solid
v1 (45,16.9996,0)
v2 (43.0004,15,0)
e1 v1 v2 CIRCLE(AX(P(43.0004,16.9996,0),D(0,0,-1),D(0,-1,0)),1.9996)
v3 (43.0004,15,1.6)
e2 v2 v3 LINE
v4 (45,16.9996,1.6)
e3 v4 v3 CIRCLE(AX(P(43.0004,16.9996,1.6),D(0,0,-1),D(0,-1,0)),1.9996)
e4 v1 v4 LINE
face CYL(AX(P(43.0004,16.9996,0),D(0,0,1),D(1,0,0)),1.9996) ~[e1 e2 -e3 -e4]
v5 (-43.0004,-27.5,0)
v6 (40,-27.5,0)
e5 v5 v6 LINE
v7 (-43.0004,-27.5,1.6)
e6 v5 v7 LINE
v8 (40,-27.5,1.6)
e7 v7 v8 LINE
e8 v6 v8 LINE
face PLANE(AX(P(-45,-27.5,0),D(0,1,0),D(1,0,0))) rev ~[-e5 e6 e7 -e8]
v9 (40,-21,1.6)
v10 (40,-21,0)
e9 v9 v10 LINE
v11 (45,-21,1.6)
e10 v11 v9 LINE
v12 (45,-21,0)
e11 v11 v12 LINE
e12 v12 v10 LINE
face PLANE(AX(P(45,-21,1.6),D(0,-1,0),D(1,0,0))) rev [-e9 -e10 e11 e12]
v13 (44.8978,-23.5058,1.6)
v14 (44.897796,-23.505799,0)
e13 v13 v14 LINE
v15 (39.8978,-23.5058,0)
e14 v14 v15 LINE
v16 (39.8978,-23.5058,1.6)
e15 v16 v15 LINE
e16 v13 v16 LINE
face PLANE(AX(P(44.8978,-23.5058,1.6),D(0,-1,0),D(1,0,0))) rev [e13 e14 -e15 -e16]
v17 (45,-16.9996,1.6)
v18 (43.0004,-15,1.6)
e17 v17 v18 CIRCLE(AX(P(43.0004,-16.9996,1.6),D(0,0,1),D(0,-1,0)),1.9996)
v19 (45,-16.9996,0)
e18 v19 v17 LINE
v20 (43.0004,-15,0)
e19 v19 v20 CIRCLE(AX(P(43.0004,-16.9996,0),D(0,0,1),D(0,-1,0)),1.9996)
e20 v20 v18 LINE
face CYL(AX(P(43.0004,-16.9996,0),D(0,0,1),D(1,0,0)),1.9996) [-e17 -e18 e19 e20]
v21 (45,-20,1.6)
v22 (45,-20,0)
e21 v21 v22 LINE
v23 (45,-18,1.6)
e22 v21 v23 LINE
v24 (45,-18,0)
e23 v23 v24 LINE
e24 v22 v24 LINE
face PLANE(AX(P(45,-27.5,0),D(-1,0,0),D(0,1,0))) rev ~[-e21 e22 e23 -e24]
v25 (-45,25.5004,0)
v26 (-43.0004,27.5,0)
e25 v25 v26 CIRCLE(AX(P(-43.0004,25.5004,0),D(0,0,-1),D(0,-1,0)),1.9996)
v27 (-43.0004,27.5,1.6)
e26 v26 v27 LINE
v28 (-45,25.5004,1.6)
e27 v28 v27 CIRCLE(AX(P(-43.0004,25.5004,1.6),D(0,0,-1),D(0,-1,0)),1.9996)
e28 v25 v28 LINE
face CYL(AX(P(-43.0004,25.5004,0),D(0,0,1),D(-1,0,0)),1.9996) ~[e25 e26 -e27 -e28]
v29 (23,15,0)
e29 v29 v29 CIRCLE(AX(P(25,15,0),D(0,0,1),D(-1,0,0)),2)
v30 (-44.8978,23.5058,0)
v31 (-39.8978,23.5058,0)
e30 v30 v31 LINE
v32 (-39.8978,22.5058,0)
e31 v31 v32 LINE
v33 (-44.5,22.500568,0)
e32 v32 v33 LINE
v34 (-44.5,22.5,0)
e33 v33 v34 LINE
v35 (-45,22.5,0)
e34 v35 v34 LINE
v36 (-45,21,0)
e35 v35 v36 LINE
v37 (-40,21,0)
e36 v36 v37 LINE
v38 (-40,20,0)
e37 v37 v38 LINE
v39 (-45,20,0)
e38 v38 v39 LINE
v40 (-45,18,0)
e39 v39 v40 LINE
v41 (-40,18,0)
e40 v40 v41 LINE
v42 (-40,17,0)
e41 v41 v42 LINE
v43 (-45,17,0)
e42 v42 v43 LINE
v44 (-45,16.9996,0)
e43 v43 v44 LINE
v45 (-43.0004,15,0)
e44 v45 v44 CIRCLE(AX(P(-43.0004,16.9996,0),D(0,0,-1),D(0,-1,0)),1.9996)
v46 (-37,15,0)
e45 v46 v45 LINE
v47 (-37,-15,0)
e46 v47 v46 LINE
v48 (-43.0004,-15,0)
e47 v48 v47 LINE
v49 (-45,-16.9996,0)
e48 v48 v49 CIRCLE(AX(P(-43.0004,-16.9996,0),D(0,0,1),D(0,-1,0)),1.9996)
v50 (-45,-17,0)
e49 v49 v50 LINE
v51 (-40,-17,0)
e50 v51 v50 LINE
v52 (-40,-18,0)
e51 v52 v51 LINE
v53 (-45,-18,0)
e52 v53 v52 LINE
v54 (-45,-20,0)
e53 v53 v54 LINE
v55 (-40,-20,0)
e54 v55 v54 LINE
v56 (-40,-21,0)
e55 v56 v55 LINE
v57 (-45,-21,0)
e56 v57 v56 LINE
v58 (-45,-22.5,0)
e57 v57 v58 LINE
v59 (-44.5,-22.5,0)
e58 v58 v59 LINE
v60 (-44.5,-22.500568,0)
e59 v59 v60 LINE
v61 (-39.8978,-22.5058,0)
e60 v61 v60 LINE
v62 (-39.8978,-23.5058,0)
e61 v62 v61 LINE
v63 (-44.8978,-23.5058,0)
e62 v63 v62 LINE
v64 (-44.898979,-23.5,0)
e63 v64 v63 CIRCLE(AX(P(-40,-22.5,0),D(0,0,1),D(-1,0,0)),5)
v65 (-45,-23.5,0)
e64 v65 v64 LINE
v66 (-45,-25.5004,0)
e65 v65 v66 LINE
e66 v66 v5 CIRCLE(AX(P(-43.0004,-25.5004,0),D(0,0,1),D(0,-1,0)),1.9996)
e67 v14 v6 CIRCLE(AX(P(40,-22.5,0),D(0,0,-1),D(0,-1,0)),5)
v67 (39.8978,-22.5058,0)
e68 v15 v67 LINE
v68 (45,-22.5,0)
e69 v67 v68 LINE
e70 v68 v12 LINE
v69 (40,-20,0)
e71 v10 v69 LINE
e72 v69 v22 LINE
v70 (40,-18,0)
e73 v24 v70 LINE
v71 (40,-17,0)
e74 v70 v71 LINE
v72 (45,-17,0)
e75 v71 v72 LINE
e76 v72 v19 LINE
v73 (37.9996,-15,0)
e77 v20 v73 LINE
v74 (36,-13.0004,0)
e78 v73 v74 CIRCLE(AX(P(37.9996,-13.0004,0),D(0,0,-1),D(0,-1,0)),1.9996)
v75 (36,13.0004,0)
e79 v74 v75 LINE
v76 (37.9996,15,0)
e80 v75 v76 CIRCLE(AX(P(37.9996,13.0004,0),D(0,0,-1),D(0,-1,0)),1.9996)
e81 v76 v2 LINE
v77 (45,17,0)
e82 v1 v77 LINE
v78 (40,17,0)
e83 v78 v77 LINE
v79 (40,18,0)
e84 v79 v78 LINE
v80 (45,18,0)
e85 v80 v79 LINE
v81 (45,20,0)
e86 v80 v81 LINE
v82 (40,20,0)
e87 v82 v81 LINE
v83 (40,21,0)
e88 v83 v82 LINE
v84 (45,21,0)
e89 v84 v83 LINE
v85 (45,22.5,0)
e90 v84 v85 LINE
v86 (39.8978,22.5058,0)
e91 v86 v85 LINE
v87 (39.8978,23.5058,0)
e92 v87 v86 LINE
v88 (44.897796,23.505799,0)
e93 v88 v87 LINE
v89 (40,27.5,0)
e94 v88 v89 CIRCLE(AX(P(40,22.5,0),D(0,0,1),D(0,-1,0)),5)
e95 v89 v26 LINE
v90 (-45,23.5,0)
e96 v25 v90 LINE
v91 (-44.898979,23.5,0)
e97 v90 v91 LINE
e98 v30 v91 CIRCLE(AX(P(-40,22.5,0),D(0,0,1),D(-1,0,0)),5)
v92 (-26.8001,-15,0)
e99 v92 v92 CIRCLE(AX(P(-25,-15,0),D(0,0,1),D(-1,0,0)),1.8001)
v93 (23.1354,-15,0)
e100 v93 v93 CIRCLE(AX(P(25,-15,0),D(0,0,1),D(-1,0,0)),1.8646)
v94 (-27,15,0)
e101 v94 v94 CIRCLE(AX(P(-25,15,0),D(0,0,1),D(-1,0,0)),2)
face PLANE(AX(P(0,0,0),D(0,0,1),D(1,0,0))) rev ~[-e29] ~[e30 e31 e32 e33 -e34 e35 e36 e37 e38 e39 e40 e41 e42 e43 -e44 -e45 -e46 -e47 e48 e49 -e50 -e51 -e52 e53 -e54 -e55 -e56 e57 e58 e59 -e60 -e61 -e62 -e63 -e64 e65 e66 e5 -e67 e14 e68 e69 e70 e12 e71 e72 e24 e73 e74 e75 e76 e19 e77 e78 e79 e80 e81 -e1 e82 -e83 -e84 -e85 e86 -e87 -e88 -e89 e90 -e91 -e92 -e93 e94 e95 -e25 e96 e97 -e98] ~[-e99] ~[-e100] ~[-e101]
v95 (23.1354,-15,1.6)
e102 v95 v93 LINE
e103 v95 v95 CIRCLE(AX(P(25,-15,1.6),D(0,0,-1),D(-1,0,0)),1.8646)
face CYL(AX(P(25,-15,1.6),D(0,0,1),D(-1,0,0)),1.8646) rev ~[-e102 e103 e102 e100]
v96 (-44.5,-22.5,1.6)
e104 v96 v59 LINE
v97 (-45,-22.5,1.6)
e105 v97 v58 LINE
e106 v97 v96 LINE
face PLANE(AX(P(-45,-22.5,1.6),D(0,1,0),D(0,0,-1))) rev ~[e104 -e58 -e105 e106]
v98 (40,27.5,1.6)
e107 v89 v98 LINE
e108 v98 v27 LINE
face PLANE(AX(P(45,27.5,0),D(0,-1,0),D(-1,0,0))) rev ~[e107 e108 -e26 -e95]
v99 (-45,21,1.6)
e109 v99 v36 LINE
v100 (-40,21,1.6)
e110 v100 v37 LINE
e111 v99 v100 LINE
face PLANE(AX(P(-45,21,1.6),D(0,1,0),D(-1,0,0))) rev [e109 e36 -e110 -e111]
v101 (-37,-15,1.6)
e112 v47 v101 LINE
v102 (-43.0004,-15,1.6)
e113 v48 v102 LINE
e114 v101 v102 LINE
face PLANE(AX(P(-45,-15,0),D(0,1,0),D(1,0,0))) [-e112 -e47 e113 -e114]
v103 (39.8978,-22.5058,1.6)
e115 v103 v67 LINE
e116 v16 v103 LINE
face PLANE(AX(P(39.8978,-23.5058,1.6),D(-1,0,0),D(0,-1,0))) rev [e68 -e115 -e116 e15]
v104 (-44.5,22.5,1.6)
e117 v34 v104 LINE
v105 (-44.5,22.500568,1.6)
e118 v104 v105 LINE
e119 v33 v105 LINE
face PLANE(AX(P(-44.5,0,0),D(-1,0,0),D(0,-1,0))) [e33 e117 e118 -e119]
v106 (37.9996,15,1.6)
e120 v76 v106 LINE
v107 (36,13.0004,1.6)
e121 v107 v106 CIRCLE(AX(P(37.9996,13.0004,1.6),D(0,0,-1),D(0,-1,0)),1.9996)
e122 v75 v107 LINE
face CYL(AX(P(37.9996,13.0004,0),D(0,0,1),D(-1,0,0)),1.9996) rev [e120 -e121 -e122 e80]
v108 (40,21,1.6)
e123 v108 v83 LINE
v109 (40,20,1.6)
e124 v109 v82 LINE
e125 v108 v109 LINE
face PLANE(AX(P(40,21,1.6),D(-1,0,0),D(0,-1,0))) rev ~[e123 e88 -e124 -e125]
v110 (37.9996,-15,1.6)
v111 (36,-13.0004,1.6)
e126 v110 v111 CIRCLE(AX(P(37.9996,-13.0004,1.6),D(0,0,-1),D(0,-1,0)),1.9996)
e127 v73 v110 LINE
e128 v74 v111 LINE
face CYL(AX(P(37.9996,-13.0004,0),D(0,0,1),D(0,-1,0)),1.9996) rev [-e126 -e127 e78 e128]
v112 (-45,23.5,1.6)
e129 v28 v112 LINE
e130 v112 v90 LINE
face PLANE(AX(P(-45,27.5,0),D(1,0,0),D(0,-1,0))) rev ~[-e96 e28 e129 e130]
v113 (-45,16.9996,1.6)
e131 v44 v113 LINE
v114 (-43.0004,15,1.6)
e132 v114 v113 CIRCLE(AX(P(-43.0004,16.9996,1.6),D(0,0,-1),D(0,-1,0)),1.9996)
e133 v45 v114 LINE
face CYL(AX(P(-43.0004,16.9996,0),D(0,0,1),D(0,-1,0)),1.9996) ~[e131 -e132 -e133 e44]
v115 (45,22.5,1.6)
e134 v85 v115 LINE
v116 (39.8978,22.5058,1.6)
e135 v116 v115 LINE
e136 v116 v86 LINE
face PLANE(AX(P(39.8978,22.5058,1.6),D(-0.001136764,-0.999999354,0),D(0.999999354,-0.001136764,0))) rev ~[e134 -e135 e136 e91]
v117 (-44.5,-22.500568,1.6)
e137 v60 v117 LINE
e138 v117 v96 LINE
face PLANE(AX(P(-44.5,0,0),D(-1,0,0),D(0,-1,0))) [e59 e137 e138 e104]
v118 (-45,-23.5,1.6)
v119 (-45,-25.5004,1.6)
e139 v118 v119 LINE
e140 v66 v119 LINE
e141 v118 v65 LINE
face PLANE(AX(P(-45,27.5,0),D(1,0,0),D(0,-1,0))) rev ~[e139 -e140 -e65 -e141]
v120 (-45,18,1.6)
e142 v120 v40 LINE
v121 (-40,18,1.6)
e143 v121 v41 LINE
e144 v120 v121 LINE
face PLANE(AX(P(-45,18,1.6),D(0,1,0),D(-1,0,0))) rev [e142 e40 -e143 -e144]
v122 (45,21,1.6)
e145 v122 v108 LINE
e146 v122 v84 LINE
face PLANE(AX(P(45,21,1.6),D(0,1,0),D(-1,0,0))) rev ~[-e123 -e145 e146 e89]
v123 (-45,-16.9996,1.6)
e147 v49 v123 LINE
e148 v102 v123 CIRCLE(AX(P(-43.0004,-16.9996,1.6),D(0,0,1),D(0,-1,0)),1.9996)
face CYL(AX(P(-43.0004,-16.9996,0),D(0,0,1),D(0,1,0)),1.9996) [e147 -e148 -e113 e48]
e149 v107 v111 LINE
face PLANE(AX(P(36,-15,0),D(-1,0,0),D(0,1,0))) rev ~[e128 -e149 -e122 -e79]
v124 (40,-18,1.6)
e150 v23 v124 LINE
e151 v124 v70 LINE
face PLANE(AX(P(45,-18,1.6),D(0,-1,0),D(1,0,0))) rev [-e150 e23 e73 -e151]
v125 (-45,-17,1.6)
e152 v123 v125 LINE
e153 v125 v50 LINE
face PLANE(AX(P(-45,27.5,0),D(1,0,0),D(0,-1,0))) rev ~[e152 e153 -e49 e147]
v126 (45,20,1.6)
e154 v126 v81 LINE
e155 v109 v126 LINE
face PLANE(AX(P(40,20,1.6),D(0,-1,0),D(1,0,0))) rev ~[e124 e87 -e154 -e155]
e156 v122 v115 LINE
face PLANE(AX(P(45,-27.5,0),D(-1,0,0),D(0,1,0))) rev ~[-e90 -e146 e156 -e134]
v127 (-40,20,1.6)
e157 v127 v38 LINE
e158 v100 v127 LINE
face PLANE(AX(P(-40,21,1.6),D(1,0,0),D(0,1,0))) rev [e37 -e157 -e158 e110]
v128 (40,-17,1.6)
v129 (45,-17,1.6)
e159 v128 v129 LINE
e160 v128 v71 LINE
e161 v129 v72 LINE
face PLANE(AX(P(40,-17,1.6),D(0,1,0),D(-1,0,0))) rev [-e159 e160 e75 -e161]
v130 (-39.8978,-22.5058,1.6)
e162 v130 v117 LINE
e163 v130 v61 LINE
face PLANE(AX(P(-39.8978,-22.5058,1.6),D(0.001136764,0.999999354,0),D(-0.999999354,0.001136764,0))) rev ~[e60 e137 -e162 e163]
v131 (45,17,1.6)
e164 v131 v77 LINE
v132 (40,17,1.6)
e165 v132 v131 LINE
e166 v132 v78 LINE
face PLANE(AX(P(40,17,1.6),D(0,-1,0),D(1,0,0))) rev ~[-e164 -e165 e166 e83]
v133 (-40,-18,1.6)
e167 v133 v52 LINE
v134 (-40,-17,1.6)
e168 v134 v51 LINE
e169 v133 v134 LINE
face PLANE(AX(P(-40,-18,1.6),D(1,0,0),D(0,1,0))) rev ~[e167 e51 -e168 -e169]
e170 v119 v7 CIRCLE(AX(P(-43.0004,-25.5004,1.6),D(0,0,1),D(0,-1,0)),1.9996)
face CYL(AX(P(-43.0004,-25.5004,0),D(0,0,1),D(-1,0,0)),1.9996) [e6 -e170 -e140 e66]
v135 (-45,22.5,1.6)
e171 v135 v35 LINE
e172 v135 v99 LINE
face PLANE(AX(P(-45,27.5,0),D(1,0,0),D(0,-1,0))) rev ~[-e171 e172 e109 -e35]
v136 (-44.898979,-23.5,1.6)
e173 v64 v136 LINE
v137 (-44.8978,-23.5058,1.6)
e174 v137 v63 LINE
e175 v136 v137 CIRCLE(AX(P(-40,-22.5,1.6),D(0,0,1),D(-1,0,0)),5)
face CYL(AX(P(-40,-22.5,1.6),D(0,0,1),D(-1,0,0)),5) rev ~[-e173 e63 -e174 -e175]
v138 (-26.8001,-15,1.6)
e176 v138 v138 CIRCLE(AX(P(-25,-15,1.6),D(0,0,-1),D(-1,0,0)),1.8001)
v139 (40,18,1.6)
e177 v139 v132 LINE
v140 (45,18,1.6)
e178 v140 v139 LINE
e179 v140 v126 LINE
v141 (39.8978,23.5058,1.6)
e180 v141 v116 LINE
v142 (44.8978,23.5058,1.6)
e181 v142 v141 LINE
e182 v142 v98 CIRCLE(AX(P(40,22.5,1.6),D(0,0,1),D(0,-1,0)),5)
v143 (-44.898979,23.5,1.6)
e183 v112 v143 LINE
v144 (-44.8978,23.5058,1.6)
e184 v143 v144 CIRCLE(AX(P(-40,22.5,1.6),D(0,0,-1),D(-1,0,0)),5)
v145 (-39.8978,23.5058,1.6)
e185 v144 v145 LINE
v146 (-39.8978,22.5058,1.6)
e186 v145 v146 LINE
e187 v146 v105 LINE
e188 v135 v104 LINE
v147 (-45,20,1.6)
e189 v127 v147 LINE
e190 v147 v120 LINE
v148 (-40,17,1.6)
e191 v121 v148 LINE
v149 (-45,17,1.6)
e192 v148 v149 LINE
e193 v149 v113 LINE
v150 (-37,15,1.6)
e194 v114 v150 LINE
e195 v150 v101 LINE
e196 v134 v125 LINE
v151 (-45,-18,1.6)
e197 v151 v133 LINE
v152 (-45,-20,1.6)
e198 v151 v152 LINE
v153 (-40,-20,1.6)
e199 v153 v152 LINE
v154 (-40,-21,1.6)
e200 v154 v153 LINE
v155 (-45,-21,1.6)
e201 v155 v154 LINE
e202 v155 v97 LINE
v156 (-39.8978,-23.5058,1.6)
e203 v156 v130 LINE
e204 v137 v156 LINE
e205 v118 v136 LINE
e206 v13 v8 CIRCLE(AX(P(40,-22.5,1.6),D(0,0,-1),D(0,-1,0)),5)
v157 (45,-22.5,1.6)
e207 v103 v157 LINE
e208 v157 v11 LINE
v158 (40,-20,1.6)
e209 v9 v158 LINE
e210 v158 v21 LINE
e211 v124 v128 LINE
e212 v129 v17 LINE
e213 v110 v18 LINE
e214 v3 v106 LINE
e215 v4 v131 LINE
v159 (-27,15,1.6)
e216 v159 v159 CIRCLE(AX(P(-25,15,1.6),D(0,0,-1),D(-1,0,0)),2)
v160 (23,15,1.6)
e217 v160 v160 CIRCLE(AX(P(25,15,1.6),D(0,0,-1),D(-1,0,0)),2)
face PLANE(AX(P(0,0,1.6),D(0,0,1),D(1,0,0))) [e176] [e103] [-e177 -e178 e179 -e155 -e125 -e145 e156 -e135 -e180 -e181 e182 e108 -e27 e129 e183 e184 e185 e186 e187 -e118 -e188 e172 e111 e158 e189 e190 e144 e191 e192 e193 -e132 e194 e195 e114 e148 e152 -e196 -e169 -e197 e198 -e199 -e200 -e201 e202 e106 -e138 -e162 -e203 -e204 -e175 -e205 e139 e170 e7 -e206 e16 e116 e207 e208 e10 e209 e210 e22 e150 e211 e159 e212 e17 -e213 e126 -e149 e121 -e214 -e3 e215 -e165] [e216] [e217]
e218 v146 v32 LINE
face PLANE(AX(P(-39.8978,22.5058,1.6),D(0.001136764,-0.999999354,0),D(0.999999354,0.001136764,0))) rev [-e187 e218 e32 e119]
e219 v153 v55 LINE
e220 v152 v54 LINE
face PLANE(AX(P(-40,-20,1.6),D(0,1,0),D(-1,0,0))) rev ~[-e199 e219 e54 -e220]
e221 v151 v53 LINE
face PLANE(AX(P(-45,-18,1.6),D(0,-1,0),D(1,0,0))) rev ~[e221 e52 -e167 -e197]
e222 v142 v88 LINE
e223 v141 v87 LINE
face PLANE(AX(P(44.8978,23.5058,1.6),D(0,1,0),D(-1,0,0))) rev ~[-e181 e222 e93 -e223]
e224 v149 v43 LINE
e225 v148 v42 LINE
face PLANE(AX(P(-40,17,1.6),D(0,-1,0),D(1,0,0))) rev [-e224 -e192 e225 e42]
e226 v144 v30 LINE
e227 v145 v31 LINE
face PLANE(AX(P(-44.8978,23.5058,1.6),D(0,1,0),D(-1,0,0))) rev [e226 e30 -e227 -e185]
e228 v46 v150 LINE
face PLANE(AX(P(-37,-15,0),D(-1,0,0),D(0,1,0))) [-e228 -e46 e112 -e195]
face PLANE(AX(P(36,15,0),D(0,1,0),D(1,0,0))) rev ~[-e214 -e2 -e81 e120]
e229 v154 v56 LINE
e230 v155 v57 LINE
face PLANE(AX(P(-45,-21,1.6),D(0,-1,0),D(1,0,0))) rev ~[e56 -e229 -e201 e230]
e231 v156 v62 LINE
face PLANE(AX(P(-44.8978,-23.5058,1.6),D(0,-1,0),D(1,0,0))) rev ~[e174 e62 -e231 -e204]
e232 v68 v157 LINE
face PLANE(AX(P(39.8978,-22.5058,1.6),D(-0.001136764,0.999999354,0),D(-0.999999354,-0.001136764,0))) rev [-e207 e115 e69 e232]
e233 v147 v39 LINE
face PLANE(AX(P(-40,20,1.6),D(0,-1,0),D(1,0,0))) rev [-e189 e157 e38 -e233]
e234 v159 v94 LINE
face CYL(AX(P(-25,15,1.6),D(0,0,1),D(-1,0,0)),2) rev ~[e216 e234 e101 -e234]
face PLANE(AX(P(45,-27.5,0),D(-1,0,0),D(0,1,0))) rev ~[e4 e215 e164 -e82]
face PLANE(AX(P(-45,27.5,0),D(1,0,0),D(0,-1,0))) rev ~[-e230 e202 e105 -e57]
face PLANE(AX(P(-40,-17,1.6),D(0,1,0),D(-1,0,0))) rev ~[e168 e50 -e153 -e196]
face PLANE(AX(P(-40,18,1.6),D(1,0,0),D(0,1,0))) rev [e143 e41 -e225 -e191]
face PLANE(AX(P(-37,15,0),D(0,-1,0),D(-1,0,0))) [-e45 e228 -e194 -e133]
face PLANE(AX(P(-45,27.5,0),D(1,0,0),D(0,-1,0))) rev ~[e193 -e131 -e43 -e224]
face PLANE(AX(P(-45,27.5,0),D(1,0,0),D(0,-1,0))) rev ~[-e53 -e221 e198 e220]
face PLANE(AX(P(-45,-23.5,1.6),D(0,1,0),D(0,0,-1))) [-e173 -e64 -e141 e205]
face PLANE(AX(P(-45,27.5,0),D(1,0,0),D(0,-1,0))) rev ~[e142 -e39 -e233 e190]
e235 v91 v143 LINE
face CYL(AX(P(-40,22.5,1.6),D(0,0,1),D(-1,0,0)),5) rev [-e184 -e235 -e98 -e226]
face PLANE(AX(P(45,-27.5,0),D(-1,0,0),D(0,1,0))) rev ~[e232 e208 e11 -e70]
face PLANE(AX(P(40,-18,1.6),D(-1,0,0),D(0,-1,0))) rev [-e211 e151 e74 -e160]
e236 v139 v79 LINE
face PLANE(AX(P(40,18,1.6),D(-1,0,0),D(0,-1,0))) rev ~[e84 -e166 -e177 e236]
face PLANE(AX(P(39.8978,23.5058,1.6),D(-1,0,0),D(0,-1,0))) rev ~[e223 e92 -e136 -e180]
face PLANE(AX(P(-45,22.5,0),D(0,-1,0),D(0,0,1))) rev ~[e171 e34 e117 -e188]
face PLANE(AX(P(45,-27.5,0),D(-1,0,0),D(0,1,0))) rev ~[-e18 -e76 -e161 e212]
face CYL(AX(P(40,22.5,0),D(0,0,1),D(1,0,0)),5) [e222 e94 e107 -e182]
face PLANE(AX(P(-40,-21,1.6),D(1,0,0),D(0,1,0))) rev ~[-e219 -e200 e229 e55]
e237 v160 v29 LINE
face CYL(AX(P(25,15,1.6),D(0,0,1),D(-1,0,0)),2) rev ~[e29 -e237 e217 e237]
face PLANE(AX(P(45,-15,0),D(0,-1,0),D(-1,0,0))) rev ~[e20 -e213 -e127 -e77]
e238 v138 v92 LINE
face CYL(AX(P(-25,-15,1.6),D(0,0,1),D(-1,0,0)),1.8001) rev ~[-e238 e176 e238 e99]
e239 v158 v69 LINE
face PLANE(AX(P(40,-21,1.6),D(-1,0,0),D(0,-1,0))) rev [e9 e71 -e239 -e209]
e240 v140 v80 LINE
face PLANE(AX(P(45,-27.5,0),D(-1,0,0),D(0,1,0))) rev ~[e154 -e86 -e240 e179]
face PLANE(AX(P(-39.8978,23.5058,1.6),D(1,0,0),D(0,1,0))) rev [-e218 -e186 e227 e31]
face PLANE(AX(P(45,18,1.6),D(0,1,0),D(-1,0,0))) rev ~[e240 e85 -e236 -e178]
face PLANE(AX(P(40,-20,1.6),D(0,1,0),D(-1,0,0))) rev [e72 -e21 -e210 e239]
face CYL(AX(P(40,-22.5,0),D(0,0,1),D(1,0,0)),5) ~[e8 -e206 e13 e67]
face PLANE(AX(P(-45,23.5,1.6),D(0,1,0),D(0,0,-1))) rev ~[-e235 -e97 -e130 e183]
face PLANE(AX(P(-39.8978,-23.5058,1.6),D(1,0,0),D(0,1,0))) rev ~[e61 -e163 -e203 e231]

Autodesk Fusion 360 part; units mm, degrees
sketch "Sketch1" plane through (0, 0, 0) normal (0, 0, 1) x (1, 0, 0)
  line L0 (45, 27.5) -> (-45, 27.5)
  line L1 (-45, 27.5) -> (-45, -27.5)
  line L2 (-45, -27.5) -> (45, -27.5)
  line L3 (45, -27.5) -> (45, 27.5)
  line L4 (45, 27.5) -> (-45, -27.5) construction
  line L5 (-45, 27.5) -> (45, -27.5) construction
  dimension "d1" = 90
  dimension "d2" = 55
extrude "Extrude1" add sketch "Sketch1" along normal blind 1.6
fillet "Fillet1" radius 5 2 edges at (45, -27.5, 0.8) (45, 27.5, 0.8)
sketch "Sketch2" plane through (0, 0, 1.6) normal (0, 0, 1) x (-1, 0, 0)
  line L0 (45, -27.5) -> (45, 27.5)
  line L1 (45, 27.5) -> (-40, 27.5)
  arc A0 (-40, 27.5) -> (-45, 22.5) centre (-40, 22.5) ccw
  line L2 (-45, 22.5) -> (-45, -22.5)
  arc A1 (-45, -22.5) -> (-40, -27.5) centre (-40, -22.5) ccw
  line L3 (-40, -27.5) -> (45, -27.5)
  line L4 (25, 15) -> (-25, 15) construction
  line L5 (-25, 15) -> (-25, -15)
  line L6 (-25, -15) -> (25, -15) construction
  line L7 (25, -15) -> (25, 15)
  line L8 (25, 15) -> (-25, -15) construction
  line L9 (-25, 15) -> (25, -15) construction
  circle A2 centre (25, -15) radius 2
  circle A3 centre (25, 15) radius 1.8001
  circle A4 centre (-25, 15) radius 1.8646
  circle A5 centre (-25, -15) radius 2
  dimension "d10" = 50
  dimension "d11" = 30
extrude "Extrude2" cut sketch "Sketch2" against normal blind 4 contours A5 | A4 | A3 | A2
sketch "Sketch3" plane through (0, 0, 0) normal (0, 0, -1) x (1, 0, 0)
  circle A0 centre (25, -15) radius 2
  circle A1 centre (25, 15) radius 1.8646
  circle A2 centre (-25, -15) radius 2
  circle A3 centre (-25, 15) radius 1.8001
  line L0 (-45, -27.5) -> (40, -27.5)
  arc A4 (40, -27.5) -> (45, -22.5) centre (40, -22.5) ccw
  line L1 (45, -22.5) -> (45, 22.5)
  arc A5 (45, 22.5) -> (40, 27.5) centre (40, 22.5) ccw
  line L2 (40, 27.5) -> (-45, 27.5)
  line L3 (-45, 27.5) -> (-45, -27.5)
  line L4 (-45, 15) -> (-37, 15)
  line L5 (-37, 15) -> (-37, -15)
  line L6 (-37, -15) -> (-45, -15)
  line L7 (-45, -15) -> (-45, 15)
extrude "Extrude3" cut sketch "Sketch3" against normal blind 3 contours L3 L4 L5 L6 L7
sketch "Sketch4" plane through (0, 0, 0) normal (0, 0, -1) x (1, 0, 0)
  line L0 (-37, -15) -> (-45, -15)
  line L1 (-45, -27.5) -> (40, -27.5)
  arc A0 (40, -27.5) -> (45, -22.5) centre (40, -22.5) ccw
  line L2 (45, -22.5) -> (45, 22.5)
  arc A1 (45, 22.5) -> (40, 27.5) centre (40, 22.5) ccw
  line L3 (40, 27.5) -> (-45, 27.5)
  line L4 (-45, 15) -> (-37, 15)
  line L5 (-37, 15) -> (-37, -15)
  circle A2 centre (25, -15) radius 2
  circle A3 centre (25, 15) radius 1.8646
  circle A4 centre (-25, -15) radius 2
  circle A5 centre (-25, 15) radius 1.8001
  line L6 (45, 15) -> (36, 15)
  line L7 (36, 15) -> (36, -15)
  line L8 (36, -15) -> (45, -15)
  line L9 (45, -15) -> (45, 15)
  line L10 (-45, -15) -> (-45, -27.5)
  line L11 (-45, 27.5) -> (-45, 15)
extrude "Extrude4" cut sketch "Sketch4" against normal blind 6 contours L2 L6 L7 L8 L9
sketch "Sketch5" plane through (0, 0, 1.6) normal (0, 0, 1) x (-1, 0, 0)
  circle A0 centre (25, 15) radius 1.8001
  circle A1 centre (25, -15) radius 2
  circle A2 centre (-25, 15) radius 1.8646
  circle A3 centre (-25, -15) radius 2
  line L0 (45, -15) -> (37, -15)
  line L1 (37, -15) -> (37, 15)
  line L2 (37, 15) -> (45, 15)
  line L3 (45, 27.5) -> (-40, 27.5)
  arc A4 (-40, 27.5) -> (-45, 22.5) centre (-40, 22.5) ccw
  line L4 (-45, -15) -> (-45, -22.5)
  line L5 (-45, 15) -> (-36, 15)
  line L6 (-36, 15) -> (-36, -15)
  line L7 (-36, -15) -> (-45, -15)
  arc A5 (-45, -22.5) -> (-40, -27.5) centre (-40, -22.5) ccw
  line L8 (-40, -27.5) -> (45, -27.5)
  line L9 (-44.8978, -23.5058) -> (-39.8978, -23.5058)
  line L10 (-39.8978, -23.5058) -> (-39.8978, -22.5058)
  line L11 (-39.8978, -22.5058) -> (-45, -22.5)
  line L12 (-45, -21) -> (-40, -21)
  line L13 (-40, -21) -> (-40, -20)
  line L14 (-40, -20) -> (-45, -20)
  line L15 (-45, -18) -> (-40, -18)
  line L16 (-40, -18) -> (-40, -17)
  line L17 (-40, -17) -> (-45, -17)
  line L18 (45, -27.5) -> (45, -15)
  line L19 (45, 15) -> (45, 27.5)
  line L20 (-45, 22.5) -> (-45, 15)
  dimension "d20" = 5
  dimension "d21" = 1
  dimension "d22" = 1
  dimension "d23" = 1
extrude "Extrude5" cut sketch "Sketch5" against normal blind 3 contours A5 L9 L10 L11 | L4 L12 L13 L14 | L4 L15 L16 L17
mirror "Mirror1" about plane through (0, 0, 0) normal (0, 1, 0) of "Extrude5"
sketch "Sketch6" plane through (0, 0, 1.6) normal (0, 0, 1) x (-1, 0, 0)
  circle A0 centre (-25, -15) radius 2
  circle A1 centre (-25, 15) radius 1.8646
  circle A2 centre (25, -15) radius 2
  circle A3 centre (25, 15) radius 1.8001
  line L0 (-44.8978, 23.5058) -> (-39.8978, 23.5058)
  line L1 (-39.8978, 23.5058) -> (-39.8978, 22.5058)
  line L2 (-39.8978, 22.5058) -> (-45, 22.5)
  line L3 (-45, 22.5) -> (-45, 21)
  line L4 (-45, 21) -> (-40, 21)
  line L5 (-40, 21) -> (-40, 20)
  line L6 (-40, 20) -> (-45, 20)
  line L7 (-45, 20) -> (-45, 18)
  line L8 (-45, 18) -> (-40, 18)
  line L9 (-40, 18) -> (-40, 17)
  line L10 (-40, 17) -> (-45, 17)
  line L11 (-45, 15) -> (-36, 15)
  line L12 (-36, 15) -> (-36, -15)
  line L13 (-36, -15) -> (-45, -15)
  line L14 (-45, -17) -> (-40, -17)
  line L15 (-40, -17) -> (-40, -18)
  line L16 (-40, -18) -> (-45, -18)
  line L17 (-45, -18) -> (-45, -20)
  line L18 (-45, -20) -> (-40, -20)
  line L19 (-40, -20) -> (-40, -21)
  line L20 (-40, -21) -> (-45, -21)
  line L21 (-45, -21) -> (-45, -22.5)
  line L22 (-45, -22.5) -> (-39.8978, -22.5058)
  line L23 (-39.8978, -22.5058) -> (-39.8978, -23.5058)
  line L24 (-39.8978, -23.5058) -> (-44.8978, -23.5058)
  arc A4 (-44.8978, -23.5058) -> (-40, -27.5) centre (-40, -22.5) ccw
  line L25 (-40, -27.5) -> (45, -27.5)
  line L26 (45, -15) -> (37, -15)
  line L27 (37, -15) -> (37, 15)
  line L28 (37, 15) -> (45, 15)
  line L29 (45, 27.5) -> (-40, 27.5)
  arc A5 (-40, 27.5) -> (-44.8978, 23.5058) centre (-40, 22.5) ccw
  line L30 (45, -27.5) -> (45, -15)
  line L31 (45, 15) -> (45, 27.5)
  line L32 (-45, 17) -> (-45, 15)
  line L33 (-45, -15) -> (-45, -17)
mirror "Mirror2" about plane through (0, 0, 0) normal (1, 0, 0) of "Extrude5"
mirror "Mirror3" about plane through (0, 0, 0) normal (1, 0, 0) of "Mirror1"
sketch "Sketch7" plane through (-45, 0, 0) normal (-1, 0, 0) x (0, -1, 0)
  line L0 (22.5, 1.6) -> (22.5, 0)
  line L1 (22.5, 0) -> (27.5, 0)
  line L2 (27.5, 0) -> (27.5, 1.6)
  line L3 (27.5, 1.6) -> (22.5, 1.6)
  line L4 (22.5, 1.6) -> (23.5, 1.6)
  line L5 (23.5, 1.6) -> (23.5, 0)
  line L6 (23.5, 0) -> (22.5, 0)
  line L7 (22.5, 0) -> (22.5, 1.6)
extrude "Extrude6" cut sketch "Sketch7" against normal blind 0.5 contours L0 L1 L3 L4 L5 L6 L7
sketch "Sketch8" plane through (-45, 0, 0) normal (-1, 0, 0) x (0, -1, 0)
  line L0 (-22.5, 0) -> (-22.5, 1.6)
  line L1 (-22.5, 1.6) -> (-27.5, 1.6)
  line L2 (-27.5, 1.6) -> (-27.5, 0)
  line L3 (-27.5, 0) -> (-22.5, 0)
  line L4 (-22.5, 1.6) -> (-23.5, 1.6)
  line L5 (-23.5, 1.6) -> (-23.5, 0)
  line L6 (-23.5, 0) -> (-22.5, 0)
  line L7 (-22.5, 0) -> (-22.5, 1.6)
extrude "Extrude7" cut sketch "Sketch8" against normal blind 0.5 contours L0 L1 L3 L4 L5 L6 L7
fillet "Fillet4" radius 2 2 edges at (-45, 27.5, 0.8) (-45, 15, 0.8)
fillet "Fillet5" radius 2 2 edges at (-45, -15, 0.8) (-45, -27.5, 0.8)
fillet "Fillet6" radius 2 4 edges at (45, -15, 0.8) (36, -15, 0.8) (45, 15, 0.8) (36, 15, 0.8)
sketch "Sketch9" plane through (0, 0, 0) normal (0, 0, -1) x (1, 0, 0)
  arc A0 (45, -17) -> (43, -15) centre (43, -17) ccw
  line L0 (43, -15) -> (38, -15)
  arc A1 (36, -13) -> (38, -15) centre (38, -13) ccw
  line L1 (36, -13) -> (36, 13)
  arc A2 (38, 15) -> (36, 13) centre (38, 13) ccw
  line L2 (38, 15) -> (43, 15)
  arc A3 (43, 15) -> (45, 17) centre (43, 17) ccw
  line L3 (45, 17) -> (40, 17)
  line L4 (40, 17) -> (40, 18)
  line L5 (40, 18) -> (45, 18)
  line L6 (45, 18) -> (45, 20)
  line L7 (45, 20) -> (40, 20)
  line L8 (40, 20) -> (40, 21)
  line L9 (40, 21) -> (45, 21)
  line L10 (45, 21) -> (45, 22.5)
  line L11 (45, 22.5) -> (39.8978, 22.5058)
  line L12 (39.8978, 22.5058) -> (39.8978, 23.5058)
  line L13 (39.8978, 23.5058) -> (44.8978, 23.5058)
  arc A4 (44.8978, 23.5058) -> (40, 27.5) centre (40, 22.5) ccw
  line L14 (40, 27.5) -> (-43, 27.5)
  arc A5 (-43, 27.5) -> (-45, 25.5) centre (-43, 25.5) ccw
  line L15 (-45, 25.5) -> (-45, 23.5)
  line L16 (-45, 23.5) -> (-44.899, 23.5)
  arc A6 (-44.8978, 23.5058) -> (-44.899, 23.5) centre (-40, 22.5) ccw
  line L17 (-44.8978, 23.5058) -> (-39.8978, 23.5058)
  line L18 (-39.8978, 23.5058) -> (-39.8978, 22.5058)
  line L19 (-39.8978, 22.5058) -> (-44.5, 22.5006)
  line L20 (-44.5, 22.5006) -> (-44.5, 22.5)
  line L21 (-44.5, 22.5) -> (-45, 22.5)
  line L22 (-45, 22.5) -> (-45, 21)
  line L23 (-45, 21) -> (-40, 21)
  line L24 (-40, 21) -> (-40, 20)
  line L25 (-40, 20) -> (-45, 20)
  line L26 (-45, 20) -> (-45, 18)
  line L27 (-45, 18) -> (-40, 18)
  line L28 (-40, 18) -> (-40, 17)
  line L29 (-40, 17) -> (-45, 17)
  arc A7 (-45, 17) -> (-43, 15) centre (-43, 17) ccw
  line L30 (-43, 15) -> (-37, 15)
  line L31 (-37, 15) -> (-37, -15)
  line L32 (-37, -15) -> (-43, -15)
  arc A8 (-43, -15) -> (-45, -17) centre (-43, -17) ccw
  line L33 (-45, -17) -> (-40, -17)
  line L34 (-40, -17) -> (-40, -18)
  line L35 (-40, -18) -> (-45, -18)
  line L36 (-45, -18) -> (-45, -20)
  line L37 (-45, -20) -> (-40, -20)
  line L38 (-40, -20) -> (-40, -21)
  line L39 (-40, -21) -> (-45, -21)
  line L40 (-45, -21) -> (-45, -22.5)
  line L41 (-45, -22.5) -> (-44.5, -22.5)
  line L42 (-44.5, -22.5) -> (-44.5, -22.5006)
  line L43 (-44.5, -22.5006) -> (-39.8978, -22.5058)
  line L44 (-39.8978, -22.5058) -> (-39.8978, -23.5058)
  line L45 (-39.8978, -23.5058) -> (-44.8978, -23.5058)
  arc A9 (-44.899, -23.5) -> (-44.8978, -23.5058) centre (-40, -22.5) ccw
  line L46 (-44.899, -23.5) -> (-45, -23.5)
  line L47 (-45, -23.5) -> (-45, -25.5)
  arc A10 (-45, -25.5) -> (-43, -27.5) centre (-43, -25.5) ccw
  line L48 (-43, -27.5) -> (40, -27.5)
  arc A11 (40, -27.5) -> (44.8978, -23.5058) centre (40, -22.5) ccw
  line L49 (44.8978, -23.5058) -> (39.8978, -23.5058)
  line L50 (39.8978, -23.5058) -> (39.8978, -22.5058)
  line L51 (39.8978, -22.5058) -> (45, -22.5)
  line L52 (45, -22.5) -> (45, -21)
  line L53 (45, -21) -> (40, -21)
  line L54 (40, -21) -> (40, -20)
  line L55 (40, -20) -> (45, -20)
  line L56 (45, -20) -> (45, -18)
  line L57 (45, -18) -> (40, -18)
  line L58 (40, -18) -> (40, -17)
  line L59 (40, -17) -> (45, -17)
  circle A12 centre (25, -15) radius 2
  circle A13 centre (25, 15) radius 1.8646
  circle A14 centre (-25, -15) radius 2
  circle A15 centre (-25, 15) radius 1.8001
sketch "Sketch10" plane through (0, 0, 1.6) normal (0, 0, 1) x (-1, 0, 0)
  circle A0 centre (25, 15) radius 1.8001
  circle A1 centre (25, -15) radius 2
  circle A2 centre (-25, 15) radius 1.8646
  circle A3 centre (-25, -15) radius 2
  arc A4 (-43, -15) -> (-45, -17) centre (-43, -17) ccw
  line L0 (-45, -17) -> (-40, -17)
  line L1 (-40, -17) -> (-40, -18)
  line L2 (-40, -18) -> (-45, -18)
  line L3 (-45, -18) -> (-45, -20)
  line L4 (-45, -20) -> (-40, -20)
  line L5 (-40, -20) -> (-40, -21)
  line L6 (-40, -21) -> (-45, -21)
  line L7 (-45, -21) -> (-45, -22.5)
  line L8 (-45, -22.5) -> (-39.8978, -22.5058)
  line L9 (-39.8978, -22.5058) -> (-39.8978, -23.5058)
  line L10 (-39.8978, -23.5058) -> (-44.8978, -23.5058)
  arc A5 (-44.8978, -23.5058) -> (-40, -27.5) centre (-40, -22.5) ccw
  line L11 (-40, -27.5) -> (43, -27.5)
  arc A6 (43, -27.5) -> (45, -25.5) centre (43, -25.5) ccw
  line L12 (45, -25.5) -> (45, -23.5)
  line L13 (45, -23.5) -> (44.899, -23.5)
  arc A7 (44.8978, -23.5058) -> (44.899, -23.5) centre (40, -22.5) ccw
  line L14 (44.8978, -23.5058) -> (39.8978, -23.5058)
  line L15 (39.8978, -23.5058) -> (39.8978, -22.5058)
  line L16 (39.8978, -22.5058) -> (44.5, -22.5006)
  line L17 (44.5, -22.5006) -> (44.5, -22.5)
  line L18 (44.5, -22.5) -> (45, -22.5)
  line L19 (45, -22.5) -> (45, -21)
  line L20 (45, -21) -> (40, -21)
  line L21 (40, -21) -> (40, -20)
  line L22 (40, -20) -> (45, -20)
  line L23 (45, -20) -> (45, -18)
  line L24 (45, -18) -> (40, -18)
  line L25 (40, -18) -> (40, -17)
  line L26 (40, -17) -> (45, -17)
  arc A8 (45, -17) -> (43, -15) centre (43, -17) ccw
  line L27 (43, -15) -> (37, -15)
  line L28 (37, -15) -> (37, 15)
  line L29 (37, 15) -> (43, 15)
  arc A9 (43, 15) -> (45, 17) centre (43, 17) ccw
  line L30 (45, 17) -> (40, 17)
  line L31 (40, 17) -> (40, 18)
  line L32 (40, 18) -> (45, 18)
  line L33 (45, 18) -> (45, 20)
  line L34 (45, 20) -> (40, 20)
  line L35 (40, 20) -> (40, 21)
  line L36 (40, 21) -> (45, 21)
  line L37 (45, 21) -> (45, 22.5)
  line L38 (45, 22.5) -> (44.5, 22.5)
  line L39 (44.5, 22.5) -> (44.5, 22.5006)
  line L40 (44.5, 22.5006) -> (39.8978, 22.5058)
  line L41 (39.8978, 22.5058) -> (39.8978, 23.5058)
  line L42 (39.8978, 23.5058) -> (44.8978, 23.5058)
  arc A10 (44.899, 23.5) -> (44.8978, 23.5058) centre (40, 22.5) ccw
  line L43 (44.899, 23.5) -> (45, 23.5)
  line L44 (45, 23.5) -> (45, 25.5)
  arc A11 (45, 25.5) -> (43, 27.5) centre (43, 25.5) ccw
  line L45 (43, 27.5) -> (-40, 27.5)
  arc A12 (-40, 27.5) -> (-44.8978, 23.5058) centre (-40, 22.5) ccw
  line L46 (-44.8978, 23.5058) -> (-39.8978, 23.5058)
  line L47 (-39.8978, 23.5058) -> (-39.8978, 22.5058)
  line L48 (-39.8978, 22.5058) -> (-45, 22.5)
  line L49 (-45, 22.5) -> (-45, 21)
  line L50 (-45, 21) -> (-40, 21)
  line L51 (-40, 21) -> (-40, 20)
  line L52 (-40, 20) -> (-45, 20)
  line L53 (-45, 20) -> (-45, 18)
  line L54 (-45, 18) -> (-40, 18)
  line L55 (-40, 18) -> (-40, 17)
  line L56 (-40, 17) -> (-45, 17)
  arc A13 (-45, 17) -> (-43, 15) centre (-43, 17) ccw
  line L57 (-43, 15) -> (-38, 15)
  arc A14 (-36, 13) -> (-38, 15) centre (-38, 13) ccw
  line L58 (-36, 13) -> (-36, -13)
  arc A15 (-38, -15) -> (-36, -13) centre (-38, -13) ccw
  line L59 (-38, -15) -> (-43, -15)
  line L60 (43, -27.5) -> (-40, -27.5)
